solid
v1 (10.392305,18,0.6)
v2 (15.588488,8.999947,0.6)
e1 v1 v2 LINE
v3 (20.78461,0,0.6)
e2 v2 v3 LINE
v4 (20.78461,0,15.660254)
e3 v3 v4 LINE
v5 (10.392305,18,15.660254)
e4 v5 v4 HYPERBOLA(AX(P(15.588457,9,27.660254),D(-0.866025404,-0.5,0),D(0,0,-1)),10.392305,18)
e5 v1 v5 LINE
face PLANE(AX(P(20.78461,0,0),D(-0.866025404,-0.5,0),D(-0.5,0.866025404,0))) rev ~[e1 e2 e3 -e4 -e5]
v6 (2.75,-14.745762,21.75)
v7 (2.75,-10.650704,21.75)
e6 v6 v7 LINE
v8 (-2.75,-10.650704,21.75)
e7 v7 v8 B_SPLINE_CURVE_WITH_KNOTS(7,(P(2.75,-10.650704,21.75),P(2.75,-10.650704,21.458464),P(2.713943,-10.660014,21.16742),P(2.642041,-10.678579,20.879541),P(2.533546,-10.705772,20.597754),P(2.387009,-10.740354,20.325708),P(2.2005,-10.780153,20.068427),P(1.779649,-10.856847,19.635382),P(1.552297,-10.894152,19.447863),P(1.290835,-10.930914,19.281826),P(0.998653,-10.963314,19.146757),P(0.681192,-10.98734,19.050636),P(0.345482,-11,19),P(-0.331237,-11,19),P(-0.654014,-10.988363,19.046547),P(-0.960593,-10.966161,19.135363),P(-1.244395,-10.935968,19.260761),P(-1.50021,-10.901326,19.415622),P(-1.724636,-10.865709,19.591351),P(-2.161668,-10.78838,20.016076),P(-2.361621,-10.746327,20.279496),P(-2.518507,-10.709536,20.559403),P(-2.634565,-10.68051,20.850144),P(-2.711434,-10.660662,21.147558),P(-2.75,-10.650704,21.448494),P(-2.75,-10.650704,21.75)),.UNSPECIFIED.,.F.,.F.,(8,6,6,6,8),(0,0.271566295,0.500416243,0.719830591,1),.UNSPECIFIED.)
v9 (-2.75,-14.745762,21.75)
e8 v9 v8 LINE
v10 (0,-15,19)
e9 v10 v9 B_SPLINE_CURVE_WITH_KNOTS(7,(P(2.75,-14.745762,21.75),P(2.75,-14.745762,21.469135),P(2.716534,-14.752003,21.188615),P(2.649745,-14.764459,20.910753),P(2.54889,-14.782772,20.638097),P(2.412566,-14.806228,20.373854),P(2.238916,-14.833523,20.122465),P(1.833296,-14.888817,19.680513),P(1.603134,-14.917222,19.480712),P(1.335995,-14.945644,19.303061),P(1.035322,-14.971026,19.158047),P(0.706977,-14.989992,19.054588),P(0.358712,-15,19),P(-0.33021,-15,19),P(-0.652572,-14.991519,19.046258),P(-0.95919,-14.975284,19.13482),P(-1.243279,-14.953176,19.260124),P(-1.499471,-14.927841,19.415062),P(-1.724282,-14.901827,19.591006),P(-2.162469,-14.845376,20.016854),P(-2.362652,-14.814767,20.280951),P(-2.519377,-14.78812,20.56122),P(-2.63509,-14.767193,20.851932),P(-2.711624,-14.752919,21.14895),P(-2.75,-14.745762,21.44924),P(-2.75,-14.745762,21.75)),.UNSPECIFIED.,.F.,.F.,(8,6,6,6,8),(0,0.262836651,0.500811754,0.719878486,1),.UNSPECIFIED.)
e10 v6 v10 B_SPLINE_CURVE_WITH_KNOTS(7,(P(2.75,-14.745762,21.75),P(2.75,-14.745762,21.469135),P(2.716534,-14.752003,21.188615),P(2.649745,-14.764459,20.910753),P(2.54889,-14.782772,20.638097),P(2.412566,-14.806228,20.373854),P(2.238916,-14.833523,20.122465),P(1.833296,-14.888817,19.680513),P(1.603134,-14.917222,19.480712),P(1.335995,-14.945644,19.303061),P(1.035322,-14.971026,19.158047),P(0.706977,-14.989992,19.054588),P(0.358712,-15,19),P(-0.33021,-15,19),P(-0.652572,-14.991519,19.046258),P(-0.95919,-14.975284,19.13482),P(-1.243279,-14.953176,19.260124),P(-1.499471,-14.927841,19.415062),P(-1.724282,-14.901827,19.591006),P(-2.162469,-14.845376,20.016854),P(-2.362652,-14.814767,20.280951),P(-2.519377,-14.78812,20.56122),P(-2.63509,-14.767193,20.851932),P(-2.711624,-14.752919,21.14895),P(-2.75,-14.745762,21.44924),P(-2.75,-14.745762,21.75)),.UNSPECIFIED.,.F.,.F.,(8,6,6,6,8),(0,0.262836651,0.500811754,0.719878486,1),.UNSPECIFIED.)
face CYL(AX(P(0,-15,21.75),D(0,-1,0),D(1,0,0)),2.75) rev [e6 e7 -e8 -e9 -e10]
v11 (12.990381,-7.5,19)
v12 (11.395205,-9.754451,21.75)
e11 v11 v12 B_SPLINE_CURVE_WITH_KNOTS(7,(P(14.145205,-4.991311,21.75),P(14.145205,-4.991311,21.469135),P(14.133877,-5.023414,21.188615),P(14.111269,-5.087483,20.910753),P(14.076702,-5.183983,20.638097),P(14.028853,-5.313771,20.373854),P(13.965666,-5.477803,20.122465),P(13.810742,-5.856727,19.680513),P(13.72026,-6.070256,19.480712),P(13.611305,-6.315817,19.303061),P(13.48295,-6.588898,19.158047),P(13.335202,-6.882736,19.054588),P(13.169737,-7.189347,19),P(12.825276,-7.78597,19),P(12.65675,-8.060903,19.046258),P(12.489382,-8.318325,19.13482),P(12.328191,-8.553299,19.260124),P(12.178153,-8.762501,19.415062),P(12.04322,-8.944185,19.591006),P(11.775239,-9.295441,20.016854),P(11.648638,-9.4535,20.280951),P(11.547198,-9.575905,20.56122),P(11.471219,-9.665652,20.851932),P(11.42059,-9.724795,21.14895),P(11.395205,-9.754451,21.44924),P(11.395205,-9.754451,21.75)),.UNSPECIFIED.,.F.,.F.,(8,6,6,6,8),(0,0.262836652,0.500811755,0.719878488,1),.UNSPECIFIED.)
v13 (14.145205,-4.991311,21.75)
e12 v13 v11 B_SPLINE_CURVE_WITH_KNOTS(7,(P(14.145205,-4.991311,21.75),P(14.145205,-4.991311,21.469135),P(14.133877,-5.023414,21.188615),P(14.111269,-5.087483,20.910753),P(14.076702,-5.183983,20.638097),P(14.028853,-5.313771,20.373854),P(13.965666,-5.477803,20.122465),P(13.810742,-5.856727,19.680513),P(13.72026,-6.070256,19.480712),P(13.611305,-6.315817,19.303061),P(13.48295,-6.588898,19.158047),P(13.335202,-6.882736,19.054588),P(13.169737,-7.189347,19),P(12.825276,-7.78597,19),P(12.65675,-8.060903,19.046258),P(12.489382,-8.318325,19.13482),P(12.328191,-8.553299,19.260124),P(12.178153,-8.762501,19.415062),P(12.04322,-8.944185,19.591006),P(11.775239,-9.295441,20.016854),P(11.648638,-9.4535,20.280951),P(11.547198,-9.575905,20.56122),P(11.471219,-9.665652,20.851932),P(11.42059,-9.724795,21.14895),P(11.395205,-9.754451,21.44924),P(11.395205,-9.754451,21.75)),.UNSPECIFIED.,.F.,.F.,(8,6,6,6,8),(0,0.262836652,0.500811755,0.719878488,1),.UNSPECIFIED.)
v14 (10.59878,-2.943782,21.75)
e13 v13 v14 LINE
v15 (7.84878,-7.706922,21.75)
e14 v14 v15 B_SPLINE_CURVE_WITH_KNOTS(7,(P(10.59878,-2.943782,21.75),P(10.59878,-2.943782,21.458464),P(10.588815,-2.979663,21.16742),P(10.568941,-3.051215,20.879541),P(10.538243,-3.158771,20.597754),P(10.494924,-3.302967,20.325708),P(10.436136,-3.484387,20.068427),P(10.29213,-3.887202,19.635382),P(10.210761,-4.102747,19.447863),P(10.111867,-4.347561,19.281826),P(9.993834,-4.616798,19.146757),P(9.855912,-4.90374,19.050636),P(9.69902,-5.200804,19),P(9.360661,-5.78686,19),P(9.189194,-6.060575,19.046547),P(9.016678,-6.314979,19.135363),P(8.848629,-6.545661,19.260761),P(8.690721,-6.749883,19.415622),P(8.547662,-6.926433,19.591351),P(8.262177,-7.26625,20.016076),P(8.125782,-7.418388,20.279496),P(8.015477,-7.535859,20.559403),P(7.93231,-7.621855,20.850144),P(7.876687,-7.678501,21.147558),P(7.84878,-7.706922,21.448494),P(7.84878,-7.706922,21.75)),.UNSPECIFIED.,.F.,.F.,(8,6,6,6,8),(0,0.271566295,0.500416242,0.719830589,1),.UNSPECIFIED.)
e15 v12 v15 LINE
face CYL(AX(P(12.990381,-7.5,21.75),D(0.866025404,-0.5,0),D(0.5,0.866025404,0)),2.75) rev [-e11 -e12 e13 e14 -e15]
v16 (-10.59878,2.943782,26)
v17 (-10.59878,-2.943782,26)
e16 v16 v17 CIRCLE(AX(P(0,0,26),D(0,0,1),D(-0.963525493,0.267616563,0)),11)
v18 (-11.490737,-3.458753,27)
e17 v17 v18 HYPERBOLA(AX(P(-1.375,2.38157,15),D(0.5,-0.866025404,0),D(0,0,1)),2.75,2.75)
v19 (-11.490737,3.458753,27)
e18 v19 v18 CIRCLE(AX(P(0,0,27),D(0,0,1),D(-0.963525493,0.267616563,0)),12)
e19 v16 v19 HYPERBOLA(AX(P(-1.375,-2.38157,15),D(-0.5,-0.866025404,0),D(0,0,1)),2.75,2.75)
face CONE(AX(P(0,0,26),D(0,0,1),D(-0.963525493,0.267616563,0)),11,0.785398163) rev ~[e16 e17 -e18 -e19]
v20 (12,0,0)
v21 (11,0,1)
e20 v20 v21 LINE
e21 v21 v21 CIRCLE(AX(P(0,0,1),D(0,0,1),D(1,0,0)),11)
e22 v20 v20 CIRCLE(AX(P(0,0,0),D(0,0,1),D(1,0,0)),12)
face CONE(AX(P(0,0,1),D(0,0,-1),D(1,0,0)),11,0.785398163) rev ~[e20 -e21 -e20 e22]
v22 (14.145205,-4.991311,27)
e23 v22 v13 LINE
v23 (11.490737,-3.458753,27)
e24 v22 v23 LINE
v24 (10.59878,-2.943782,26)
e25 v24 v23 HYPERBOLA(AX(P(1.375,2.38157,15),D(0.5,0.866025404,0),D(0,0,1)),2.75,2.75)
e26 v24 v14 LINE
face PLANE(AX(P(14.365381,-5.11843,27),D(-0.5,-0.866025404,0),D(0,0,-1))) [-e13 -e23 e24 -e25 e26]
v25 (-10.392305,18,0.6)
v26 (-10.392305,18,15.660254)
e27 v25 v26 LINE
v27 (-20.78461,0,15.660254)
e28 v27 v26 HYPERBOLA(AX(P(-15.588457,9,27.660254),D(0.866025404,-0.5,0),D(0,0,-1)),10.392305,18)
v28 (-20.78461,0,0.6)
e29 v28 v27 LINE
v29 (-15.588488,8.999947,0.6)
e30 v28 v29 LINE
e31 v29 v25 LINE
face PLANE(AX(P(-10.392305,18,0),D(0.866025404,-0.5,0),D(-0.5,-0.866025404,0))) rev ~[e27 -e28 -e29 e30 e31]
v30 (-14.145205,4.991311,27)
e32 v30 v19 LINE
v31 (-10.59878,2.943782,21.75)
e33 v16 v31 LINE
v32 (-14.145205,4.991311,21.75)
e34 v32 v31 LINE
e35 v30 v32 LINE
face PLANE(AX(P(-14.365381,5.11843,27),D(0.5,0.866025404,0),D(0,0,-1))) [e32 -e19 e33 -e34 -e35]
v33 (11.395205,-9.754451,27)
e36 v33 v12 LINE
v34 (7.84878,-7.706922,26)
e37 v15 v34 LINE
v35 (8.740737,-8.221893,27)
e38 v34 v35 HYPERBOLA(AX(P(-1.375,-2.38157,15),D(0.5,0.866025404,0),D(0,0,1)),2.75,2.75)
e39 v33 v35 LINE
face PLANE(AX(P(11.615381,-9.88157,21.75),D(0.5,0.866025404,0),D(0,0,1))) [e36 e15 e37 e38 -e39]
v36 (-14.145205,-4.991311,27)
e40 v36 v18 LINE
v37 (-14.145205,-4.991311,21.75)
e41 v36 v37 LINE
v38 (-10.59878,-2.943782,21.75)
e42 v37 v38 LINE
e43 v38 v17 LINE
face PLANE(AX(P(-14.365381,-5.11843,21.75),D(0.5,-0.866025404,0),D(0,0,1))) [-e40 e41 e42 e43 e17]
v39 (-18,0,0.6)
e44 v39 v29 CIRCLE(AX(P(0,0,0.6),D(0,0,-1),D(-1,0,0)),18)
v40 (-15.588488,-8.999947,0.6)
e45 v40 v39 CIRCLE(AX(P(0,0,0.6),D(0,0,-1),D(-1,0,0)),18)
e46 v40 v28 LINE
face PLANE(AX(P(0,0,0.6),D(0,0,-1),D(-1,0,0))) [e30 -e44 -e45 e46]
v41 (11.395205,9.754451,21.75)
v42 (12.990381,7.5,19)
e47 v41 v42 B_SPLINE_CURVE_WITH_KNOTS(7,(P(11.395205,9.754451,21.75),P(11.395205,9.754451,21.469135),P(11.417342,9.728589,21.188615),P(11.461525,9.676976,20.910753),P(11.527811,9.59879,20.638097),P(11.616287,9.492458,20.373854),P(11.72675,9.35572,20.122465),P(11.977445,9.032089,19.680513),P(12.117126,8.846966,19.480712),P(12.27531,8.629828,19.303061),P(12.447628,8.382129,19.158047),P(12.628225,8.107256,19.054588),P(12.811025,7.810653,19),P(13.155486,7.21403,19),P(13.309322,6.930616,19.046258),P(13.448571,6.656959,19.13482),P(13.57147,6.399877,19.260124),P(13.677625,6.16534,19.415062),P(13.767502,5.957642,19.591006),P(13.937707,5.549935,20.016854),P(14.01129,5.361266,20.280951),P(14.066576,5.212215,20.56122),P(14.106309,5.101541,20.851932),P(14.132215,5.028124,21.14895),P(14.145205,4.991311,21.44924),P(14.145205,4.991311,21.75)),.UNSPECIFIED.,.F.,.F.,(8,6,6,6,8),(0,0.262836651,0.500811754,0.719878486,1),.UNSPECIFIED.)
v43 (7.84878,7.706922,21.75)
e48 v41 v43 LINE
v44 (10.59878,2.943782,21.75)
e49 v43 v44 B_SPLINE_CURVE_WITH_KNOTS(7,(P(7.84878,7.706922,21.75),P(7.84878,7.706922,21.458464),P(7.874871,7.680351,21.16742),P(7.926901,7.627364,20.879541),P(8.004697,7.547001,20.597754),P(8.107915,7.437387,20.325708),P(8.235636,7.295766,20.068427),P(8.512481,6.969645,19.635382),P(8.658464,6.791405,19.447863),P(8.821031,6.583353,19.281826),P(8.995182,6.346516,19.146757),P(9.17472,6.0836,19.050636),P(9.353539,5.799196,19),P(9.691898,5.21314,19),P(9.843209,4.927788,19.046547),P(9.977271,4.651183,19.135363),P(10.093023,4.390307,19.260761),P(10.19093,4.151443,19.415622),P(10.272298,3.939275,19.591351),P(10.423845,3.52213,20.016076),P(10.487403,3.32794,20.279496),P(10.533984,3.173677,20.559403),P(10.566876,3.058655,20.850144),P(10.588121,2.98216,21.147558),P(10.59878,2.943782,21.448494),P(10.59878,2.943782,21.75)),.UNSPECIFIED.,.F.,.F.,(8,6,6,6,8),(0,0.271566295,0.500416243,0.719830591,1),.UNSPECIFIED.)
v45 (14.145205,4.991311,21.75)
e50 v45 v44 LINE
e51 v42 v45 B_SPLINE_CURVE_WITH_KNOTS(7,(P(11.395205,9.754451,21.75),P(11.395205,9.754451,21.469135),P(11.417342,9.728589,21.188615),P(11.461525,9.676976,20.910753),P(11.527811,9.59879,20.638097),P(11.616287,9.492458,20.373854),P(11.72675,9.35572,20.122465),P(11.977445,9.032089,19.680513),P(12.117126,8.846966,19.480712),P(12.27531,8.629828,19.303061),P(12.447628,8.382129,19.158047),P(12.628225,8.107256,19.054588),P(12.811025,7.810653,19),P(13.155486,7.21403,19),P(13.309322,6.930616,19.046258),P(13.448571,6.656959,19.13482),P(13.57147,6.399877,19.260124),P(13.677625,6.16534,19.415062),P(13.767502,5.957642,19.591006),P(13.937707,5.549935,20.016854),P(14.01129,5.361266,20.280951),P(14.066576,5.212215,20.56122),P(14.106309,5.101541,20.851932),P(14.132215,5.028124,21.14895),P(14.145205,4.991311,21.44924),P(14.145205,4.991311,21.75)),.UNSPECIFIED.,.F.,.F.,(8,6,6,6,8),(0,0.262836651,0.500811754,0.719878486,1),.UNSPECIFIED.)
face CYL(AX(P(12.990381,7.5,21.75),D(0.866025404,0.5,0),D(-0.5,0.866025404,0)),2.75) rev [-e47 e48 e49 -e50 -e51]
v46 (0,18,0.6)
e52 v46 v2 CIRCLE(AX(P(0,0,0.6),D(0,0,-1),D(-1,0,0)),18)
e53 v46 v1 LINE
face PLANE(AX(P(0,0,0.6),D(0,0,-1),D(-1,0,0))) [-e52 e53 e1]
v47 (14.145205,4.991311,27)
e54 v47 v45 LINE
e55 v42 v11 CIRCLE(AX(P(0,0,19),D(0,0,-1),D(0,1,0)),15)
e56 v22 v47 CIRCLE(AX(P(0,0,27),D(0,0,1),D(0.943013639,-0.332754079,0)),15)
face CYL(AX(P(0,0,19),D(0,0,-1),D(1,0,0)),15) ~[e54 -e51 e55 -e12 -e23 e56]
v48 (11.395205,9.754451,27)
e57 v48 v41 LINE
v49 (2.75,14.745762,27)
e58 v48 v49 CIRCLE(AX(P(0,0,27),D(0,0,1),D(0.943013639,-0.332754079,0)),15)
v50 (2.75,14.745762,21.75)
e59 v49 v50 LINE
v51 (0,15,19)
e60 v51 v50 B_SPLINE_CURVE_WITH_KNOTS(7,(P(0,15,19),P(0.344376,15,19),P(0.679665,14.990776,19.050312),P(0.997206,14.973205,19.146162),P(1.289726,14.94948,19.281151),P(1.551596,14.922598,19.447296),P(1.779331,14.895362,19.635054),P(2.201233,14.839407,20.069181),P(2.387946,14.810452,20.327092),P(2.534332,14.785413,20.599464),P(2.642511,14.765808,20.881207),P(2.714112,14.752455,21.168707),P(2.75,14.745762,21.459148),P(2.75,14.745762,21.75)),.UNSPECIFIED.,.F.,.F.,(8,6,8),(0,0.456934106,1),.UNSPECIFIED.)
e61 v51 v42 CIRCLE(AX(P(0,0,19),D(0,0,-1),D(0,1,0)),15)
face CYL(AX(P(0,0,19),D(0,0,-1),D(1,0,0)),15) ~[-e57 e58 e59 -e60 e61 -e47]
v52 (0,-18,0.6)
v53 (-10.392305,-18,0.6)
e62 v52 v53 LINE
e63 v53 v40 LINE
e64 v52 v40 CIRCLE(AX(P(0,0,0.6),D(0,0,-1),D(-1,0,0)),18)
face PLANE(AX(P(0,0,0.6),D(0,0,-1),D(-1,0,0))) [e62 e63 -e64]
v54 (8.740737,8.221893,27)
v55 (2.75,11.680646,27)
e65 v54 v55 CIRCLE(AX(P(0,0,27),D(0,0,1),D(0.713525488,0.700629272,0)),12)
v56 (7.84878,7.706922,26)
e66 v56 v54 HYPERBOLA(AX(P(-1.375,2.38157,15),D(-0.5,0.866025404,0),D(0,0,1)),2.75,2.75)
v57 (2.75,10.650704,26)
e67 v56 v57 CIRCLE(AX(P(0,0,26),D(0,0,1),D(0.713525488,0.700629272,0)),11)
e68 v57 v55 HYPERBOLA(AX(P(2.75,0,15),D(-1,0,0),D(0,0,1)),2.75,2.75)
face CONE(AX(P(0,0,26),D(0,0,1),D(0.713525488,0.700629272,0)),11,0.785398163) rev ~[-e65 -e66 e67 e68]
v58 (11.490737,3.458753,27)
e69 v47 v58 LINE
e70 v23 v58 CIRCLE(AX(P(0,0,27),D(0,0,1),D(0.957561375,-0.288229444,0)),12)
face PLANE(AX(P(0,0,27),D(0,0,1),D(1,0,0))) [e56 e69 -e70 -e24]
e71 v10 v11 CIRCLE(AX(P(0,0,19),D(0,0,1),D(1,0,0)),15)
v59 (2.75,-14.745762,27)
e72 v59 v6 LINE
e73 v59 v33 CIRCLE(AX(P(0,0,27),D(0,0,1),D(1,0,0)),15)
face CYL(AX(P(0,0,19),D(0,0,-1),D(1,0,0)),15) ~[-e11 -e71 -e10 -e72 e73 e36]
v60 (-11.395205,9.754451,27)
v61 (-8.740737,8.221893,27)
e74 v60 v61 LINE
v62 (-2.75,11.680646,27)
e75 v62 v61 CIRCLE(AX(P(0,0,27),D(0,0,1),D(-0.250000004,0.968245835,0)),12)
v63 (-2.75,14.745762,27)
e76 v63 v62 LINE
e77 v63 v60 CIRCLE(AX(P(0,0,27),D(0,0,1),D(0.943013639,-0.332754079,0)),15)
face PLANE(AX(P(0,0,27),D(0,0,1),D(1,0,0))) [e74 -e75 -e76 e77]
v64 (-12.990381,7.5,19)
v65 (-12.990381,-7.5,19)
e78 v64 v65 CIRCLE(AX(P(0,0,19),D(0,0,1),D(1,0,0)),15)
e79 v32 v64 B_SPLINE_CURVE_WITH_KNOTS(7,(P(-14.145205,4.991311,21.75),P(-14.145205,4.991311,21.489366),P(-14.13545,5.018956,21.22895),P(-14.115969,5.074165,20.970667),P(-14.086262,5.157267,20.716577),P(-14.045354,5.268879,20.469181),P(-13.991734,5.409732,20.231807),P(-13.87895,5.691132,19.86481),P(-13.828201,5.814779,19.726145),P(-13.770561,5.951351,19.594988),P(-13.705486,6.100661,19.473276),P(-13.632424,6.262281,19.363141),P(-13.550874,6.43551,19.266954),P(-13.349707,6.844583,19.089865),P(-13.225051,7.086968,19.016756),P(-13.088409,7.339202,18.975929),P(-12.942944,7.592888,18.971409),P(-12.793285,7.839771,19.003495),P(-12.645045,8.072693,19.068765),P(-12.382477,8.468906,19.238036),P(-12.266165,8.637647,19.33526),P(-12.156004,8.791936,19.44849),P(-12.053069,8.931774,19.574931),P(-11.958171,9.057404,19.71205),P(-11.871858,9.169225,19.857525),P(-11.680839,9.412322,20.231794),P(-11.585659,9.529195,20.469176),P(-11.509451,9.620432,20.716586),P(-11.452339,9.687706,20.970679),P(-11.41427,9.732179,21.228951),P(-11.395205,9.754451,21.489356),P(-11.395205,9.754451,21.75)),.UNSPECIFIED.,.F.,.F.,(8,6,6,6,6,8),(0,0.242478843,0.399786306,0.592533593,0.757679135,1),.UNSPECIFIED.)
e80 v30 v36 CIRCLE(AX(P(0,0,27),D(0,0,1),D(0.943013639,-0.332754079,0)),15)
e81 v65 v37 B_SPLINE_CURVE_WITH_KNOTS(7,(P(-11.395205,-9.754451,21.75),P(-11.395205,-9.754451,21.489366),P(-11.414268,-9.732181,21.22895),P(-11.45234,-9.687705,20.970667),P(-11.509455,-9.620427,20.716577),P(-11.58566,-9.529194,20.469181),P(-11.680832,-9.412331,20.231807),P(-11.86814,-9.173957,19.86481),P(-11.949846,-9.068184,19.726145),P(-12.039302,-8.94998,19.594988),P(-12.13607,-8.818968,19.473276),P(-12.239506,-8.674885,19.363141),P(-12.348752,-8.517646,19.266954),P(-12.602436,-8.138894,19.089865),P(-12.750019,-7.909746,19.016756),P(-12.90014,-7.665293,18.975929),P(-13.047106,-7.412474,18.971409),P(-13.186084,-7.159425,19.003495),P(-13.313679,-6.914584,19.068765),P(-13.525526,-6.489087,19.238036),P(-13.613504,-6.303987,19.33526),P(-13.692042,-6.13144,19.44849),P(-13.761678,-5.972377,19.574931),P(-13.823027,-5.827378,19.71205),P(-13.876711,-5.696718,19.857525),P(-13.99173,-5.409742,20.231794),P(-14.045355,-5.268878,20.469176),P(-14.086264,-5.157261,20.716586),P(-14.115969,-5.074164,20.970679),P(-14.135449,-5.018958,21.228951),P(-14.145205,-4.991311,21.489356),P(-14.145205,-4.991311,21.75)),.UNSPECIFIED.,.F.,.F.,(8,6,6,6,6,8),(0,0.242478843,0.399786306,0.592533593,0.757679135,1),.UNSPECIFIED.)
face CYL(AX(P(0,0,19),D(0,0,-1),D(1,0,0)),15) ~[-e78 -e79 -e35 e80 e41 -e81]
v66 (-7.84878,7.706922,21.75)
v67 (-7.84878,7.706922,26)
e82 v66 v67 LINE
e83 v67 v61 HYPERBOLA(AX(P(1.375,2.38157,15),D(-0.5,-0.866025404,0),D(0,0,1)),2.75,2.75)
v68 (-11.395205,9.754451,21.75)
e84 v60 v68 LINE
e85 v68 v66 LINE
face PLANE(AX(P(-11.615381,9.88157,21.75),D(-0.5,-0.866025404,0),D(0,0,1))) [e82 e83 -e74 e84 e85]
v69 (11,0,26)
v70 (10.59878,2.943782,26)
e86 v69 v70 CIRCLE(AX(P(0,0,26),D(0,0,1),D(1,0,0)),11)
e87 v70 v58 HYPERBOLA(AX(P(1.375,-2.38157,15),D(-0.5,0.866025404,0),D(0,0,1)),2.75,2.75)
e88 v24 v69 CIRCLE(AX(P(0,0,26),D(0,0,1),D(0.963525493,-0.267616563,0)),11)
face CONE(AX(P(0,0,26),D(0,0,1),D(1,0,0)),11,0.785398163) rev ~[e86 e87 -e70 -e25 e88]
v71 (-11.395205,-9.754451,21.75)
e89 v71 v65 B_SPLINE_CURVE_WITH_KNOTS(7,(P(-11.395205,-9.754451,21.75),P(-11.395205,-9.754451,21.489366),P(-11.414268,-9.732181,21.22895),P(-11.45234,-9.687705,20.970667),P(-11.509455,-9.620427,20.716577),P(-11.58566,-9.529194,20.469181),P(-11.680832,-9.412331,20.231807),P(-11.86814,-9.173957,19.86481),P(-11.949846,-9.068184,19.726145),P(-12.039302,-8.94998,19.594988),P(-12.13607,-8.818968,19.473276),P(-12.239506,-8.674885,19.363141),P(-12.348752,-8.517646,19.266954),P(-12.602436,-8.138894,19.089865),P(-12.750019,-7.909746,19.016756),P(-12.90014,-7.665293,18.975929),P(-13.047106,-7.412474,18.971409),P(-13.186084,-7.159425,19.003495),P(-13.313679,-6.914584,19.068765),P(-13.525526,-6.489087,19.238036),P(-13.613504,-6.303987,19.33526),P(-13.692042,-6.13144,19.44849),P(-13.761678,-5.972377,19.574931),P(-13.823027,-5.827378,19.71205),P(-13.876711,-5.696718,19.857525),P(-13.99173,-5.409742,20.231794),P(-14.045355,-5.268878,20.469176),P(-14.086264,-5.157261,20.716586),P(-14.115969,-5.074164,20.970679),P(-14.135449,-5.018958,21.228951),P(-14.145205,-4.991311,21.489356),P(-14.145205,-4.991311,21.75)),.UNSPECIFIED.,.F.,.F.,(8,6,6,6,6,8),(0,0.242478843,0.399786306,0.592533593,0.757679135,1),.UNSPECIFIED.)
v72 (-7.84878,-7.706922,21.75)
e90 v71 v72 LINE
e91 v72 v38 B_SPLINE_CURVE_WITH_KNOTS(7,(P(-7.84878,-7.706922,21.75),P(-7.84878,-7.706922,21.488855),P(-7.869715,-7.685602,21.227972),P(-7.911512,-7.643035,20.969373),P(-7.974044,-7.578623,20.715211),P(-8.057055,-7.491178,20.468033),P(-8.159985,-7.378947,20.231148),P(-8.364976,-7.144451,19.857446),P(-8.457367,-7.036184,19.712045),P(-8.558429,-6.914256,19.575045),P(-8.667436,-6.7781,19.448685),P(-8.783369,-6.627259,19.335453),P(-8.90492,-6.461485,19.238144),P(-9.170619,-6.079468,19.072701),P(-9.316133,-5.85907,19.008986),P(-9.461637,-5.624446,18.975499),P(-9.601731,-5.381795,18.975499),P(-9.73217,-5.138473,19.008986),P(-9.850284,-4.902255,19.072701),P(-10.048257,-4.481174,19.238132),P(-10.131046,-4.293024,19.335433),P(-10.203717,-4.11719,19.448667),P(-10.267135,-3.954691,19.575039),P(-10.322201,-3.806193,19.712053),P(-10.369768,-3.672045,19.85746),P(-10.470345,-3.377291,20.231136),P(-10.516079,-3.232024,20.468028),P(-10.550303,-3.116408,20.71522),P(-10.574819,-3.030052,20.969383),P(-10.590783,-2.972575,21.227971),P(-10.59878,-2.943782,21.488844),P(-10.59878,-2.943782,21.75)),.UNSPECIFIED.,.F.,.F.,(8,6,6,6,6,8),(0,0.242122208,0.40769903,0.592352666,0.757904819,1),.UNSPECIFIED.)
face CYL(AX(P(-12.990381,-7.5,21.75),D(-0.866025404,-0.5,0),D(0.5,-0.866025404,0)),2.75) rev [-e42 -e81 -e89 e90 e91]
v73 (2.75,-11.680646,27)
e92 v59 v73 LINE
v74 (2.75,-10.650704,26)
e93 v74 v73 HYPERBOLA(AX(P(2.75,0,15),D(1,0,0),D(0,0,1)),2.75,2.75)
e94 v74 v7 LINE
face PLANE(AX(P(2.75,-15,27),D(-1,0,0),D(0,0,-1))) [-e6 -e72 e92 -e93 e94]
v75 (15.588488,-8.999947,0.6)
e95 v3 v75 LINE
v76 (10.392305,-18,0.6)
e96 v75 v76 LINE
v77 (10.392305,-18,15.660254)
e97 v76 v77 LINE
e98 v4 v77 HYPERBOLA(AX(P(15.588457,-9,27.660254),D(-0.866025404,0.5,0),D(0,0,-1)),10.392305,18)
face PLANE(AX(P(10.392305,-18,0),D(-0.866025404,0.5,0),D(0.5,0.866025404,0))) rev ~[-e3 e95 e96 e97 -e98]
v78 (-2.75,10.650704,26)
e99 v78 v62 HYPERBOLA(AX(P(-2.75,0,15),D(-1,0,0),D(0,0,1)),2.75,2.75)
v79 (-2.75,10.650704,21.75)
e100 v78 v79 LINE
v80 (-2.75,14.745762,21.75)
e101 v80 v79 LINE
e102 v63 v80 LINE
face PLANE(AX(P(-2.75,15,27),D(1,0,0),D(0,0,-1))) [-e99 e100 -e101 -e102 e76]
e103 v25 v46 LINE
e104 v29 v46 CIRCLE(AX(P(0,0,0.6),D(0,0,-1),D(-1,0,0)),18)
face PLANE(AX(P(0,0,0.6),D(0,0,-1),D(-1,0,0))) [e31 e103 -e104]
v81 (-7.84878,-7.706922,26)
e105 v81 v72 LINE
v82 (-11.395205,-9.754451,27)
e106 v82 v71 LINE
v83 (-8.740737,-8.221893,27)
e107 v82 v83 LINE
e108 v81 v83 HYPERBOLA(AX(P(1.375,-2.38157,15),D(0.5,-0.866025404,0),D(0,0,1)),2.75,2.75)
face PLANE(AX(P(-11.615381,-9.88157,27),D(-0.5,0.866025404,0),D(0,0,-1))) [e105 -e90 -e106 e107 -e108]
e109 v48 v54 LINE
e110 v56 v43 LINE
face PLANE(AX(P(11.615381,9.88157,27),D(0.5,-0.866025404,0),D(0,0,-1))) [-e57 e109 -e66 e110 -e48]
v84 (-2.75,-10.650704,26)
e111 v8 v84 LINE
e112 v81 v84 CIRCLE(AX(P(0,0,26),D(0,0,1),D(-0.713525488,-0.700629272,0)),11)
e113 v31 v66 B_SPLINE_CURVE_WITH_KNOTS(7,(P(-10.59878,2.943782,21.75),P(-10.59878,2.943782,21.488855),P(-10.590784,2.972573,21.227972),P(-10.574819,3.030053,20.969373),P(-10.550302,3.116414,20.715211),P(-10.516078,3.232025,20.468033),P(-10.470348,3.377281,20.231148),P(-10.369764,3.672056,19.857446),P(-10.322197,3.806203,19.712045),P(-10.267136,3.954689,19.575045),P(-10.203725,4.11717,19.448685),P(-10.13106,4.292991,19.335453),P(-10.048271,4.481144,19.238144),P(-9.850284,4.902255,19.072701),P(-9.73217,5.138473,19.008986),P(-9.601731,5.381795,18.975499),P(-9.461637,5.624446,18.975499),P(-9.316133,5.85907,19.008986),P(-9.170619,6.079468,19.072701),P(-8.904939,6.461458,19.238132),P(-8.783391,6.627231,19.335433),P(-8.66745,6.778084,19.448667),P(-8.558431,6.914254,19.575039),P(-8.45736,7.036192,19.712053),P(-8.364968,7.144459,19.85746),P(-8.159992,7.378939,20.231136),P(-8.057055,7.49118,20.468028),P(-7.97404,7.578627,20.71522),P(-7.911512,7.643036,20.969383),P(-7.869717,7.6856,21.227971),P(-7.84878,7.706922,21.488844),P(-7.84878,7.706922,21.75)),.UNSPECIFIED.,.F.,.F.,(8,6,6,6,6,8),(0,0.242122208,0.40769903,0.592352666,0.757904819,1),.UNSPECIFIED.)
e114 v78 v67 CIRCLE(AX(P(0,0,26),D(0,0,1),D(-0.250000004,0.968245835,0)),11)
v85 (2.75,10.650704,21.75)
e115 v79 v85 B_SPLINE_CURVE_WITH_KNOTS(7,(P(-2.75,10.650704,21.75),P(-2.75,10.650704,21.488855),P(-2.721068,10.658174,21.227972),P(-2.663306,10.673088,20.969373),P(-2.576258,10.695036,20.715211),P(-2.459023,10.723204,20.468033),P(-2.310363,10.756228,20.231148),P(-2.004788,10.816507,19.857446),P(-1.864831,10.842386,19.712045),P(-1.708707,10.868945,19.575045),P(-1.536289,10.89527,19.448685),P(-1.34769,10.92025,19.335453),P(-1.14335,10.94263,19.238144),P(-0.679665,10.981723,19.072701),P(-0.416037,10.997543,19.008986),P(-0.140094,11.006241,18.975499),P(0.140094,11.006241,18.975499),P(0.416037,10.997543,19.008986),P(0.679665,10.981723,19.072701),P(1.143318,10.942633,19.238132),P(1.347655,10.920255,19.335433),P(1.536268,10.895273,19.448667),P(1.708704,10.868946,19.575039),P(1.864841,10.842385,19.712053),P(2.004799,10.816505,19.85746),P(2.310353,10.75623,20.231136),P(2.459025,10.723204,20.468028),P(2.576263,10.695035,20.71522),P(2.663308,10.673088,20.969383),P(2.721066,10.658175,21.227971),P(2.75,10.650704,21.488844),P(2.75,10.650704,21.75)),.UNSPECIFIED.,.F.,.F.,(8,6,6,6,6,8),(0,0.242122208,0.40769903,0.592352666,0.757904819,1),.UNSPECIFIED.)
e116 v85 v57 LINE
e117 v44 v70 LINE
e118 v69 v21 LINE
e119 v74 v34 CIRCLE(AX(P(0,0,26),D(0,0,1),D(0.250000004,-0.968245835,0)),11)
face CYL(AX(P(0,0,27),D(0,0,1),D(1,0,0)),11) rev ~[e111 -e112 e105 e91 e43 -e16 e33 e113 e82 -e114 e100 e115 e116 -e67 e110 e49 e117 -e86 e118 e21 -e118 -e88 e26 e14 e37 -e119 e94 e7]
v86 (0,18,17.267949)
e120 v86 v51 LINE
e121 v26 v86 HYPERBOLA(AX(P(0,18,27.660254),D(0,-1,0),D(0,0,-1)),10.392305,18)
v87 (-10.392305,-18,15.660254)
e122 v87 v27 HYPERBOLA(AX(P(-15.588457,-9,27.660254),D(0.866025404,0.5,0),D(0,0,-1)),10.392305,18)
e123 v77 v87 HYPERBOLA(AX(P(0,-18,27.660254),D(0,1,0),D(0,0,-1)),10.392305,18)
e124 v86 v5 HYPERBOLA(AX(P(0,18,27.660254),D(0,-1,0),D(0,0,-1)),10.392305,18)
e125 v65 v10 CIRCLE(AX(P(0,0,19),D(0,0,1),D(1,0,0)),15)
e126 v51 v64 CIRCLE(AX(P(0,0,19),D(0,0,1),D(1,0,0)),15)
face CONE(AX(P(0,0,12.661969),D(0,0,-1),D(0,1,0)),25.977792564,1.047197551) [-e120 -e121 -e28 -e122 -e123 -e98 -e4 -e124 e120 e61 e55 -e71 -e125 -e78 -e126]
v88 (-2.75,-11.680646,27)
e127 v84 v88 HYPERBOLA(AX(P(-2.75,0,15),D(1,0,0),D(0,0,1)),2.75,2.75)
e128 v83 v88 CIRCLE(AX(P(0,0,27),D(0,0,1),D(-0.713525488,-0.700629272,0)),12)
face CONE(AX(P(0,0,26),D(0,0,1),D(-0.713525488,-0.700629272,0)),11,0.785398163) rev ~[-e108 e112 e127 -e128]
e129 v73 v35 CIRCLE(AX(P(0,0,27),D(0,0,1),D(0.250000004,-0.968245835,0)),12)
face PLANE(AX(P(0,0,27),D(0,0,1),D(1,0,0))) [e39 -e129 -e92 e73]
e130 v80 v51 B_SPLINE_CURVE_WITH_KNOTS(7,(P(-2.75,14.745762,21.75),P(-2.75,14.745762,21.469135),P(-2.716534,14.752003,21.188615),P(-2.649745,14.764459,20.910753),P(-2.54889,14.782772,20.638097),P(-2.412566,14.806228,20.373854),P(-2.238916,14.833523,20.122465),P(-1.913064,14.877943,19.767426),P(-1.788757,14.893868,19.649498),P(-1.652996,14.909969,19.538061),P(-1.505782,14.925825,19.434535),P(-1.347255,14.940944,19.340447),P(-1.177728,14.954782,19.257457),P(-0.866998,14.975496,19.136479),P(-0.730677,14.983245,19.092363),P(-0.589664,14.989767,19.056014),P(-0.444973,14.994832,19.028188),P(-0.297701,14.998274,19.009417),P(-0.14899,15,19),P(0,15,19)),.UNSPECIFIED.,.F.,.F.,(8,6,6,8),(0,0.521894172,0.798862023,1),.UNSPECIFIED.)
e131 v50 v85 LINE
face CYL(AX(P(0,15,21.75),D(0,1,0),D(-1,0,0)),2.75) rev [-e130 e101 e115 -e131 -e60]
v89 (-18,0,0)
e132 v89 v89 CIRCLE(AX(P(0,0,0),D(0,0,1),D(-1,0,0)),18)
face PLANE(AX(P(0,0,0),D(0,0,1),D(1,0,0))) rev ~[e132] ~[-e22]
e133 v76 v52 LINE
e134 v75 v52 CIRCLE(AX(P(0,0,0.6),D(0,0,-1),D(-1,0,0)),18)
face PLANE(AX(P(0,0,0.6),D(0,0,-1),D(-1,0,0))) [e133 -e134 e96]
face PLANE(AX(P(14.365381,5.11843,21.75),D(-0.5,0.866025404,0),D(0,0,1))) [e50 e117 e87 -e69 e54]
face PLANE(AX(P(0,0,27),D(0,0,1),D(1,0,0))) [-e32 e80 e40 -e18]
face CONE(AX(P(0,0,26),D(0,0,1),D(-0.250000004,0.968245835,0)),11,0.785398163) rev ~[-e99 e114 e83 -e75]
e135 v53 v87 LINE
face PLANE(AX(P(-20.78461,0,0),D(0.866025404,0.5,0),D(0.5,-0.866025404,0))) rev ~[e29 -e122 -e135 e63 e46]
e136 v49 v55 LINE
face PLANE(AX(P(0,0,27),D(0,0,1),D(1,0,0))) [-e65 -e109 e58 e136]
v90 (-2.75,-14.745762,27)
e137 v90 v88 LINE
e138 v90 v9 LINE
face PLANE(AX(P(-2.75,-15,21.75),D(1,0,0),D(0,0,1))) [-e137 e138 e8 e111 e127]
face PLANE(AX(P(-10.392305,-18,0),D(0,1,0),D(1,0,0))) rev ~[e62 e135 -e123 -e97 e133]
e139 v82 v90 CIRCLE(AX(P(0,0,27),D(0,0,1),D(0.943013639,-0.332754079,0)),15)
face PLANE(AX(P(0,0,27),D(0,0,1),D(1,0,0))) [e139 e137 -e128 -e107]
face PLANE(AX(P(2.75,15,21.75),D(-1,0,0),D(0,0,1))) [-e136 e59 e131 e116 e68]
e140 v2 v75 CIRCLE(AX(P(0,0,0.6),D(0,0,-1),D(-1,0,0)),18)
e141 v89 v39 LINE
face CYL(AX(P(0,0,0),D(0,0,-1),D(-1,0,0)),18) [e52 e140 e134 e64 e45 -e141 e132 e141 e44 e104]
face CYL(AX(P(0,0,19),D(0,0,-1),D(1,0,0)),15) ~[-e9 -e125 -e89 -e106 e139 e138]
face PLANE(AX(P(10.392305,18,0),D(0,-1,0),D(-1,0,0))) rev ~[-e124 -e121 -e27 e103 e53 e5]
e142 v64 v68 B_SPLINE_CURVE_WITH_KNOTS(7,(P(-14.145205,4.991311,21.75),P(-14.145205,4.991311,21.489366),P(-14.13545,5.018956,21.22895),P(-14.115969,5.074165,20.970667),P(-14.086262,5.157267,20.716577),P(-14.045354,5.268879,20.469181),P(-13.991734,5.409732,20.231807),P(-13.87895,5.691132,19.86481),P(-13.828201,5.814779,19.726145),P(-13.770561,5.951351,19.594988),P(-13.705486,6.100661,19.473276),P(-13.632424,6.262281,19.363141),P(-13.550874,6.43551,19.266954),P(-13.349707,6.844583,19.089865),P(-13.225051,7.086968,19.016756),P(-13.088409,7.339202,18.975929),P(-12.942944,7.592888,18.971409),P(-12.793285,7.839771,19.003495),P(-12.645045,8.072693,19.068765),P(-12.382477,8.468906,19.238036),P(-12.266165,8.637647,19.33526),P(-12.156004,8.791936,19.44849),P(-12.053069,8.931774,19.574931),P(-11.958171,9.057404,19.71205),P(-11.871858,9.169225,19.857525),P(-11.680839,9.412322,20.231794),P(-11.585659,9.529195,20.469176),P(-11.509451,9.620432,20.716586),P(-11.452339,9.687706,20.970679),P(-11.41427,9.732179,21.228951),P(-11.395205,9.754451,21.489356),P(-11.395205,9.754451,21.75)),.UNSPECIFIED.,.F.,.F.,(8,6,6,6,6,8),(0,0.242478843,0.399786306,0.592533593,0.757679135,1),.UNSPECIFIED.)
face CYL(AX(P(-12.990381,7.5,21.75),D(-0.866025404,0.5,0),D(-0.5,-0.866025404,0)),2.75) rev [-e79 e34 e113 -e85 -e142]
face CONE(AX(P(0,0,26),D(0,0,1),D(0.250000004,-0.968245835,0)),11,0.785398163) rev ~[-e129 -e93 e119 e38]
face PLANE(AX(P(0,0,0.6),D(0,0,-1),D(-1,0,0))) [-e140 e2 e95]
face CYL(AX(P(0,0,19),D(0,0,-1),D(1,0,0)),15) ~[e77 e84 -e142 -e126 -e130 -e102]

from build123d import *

# Parameters (mm, degrees)
BOSS_EXTRUDE1_DEPTH     = 19
SKETCH2_R               = 15
BOSS_EXTRUDE2_DEPTH     = 8
SKETCH4_R               = 28
SKETCH4_R_2             = 18
CUT_EXTRUDE_THIN1_DEPTH = 0.6
CUT_EXTRUDE1_REACH      = 40.536
SKETCH5_R               = 11
CUT_EXTRUDE2_REACH      = 40.536
CIRPATTERN1_COUNT       = 6
CHAMFER1_SIZE           = 1


with BuildPart() as part:
    # Sketch1 → Boss-Extrude1 (new body)
    with BuildSketch(Plane.XY):
        Polygon((20.784609691, 0), (10.392304845, 18), (-10.392304845, 18), (-20.784609691, 0), (-10.392304845, -18), (10.392304845, -18), align=None)
    extrude(amount=BOSS_EXTRUDE1_DEPTH)

    # Sketch2 → Boss-Extrude2 (add)
    with BuildSketch(Plane.XY.offset(19)):
        Circle(SKETCH2_R)
    extrude(amount=BOSS_EXTRUDE2_DEPTH)

    # Sketch3 → Cut-Revolve1 (revolve, cut)
    with BuildSketch(Plane(origin=(0, 0, 0), x_dir=(0, 0, -1), z_dir=(1, 0, 0))):
        Polygon((-19, 15), (-19, 25.977792564), (-12.661968508, 25.977792564), align=None)
    revolve(axis=Axis((0, 0, -102.328960849), (0, 0, 1)), mode=Mode.SUBTRACT)

    # Sketch4 → Cut-Extrude-Thin1 (cut)
    with BuildSketch(Plane(origin=(0, 0, 0), x_dir=(-1, 0, 0), z_dir=(0, 0, -1))):
        Circle(SKETCH4_R)
        Circle(SKETCH4_R_2, mode=Mode.SUBTRACT)
    extrude(amount=-CUT_EXTRUDE_THIN1_DEPTH, mode=Mode.SUBTRACT)

    # Sketch5 → Cut-Extrude1 (cut, up to next)
    with BuildSketch(Plane.XY.offset(27), mode=Mode.PRIVATE) as cut_extrude1_sk1:
        Circle(SKETCH5_R)
    cut_extrude1_tool1 = extrude(cut_extrude1_sk1.sketch, amount=-CUT_EXTRUDE1_REACH, mode=Mode.PRIVATE) & part.part
    add(cut_extrude1_tool1.solids().sort_by_distance((0, 0, 27))[0], mode=Mode.SUBTRACT)

    # Sketch6 → Cut-Extrude2 (cut, up to next)
    with BuildSketch(Plane(origin=(0, 0, 0), x_dir=(1, 0, 0), z_dir=(0, 1, 0)), mode=Mode.PRIVATE) as cut_extrude2_sk1:
        with BuildLine():
            Line((-2.75, -21.75), (-2.75, -27))
            Line((-2.75, -27), (2.75, -27))
            Line((2.75, -27), (2.75, -21.75))
            ThreePointArc((2.75, -21.75), (0, -19), (-2.75, -21.75))
        make_face()
    cut_extrude2_tool1 = extrude(cut_extrude2_sk1.sketch, amount=-CUT_EXTRUDE2_REACH, mode=Mode.PRIVATE) & part.part
    cut_extrude2 = cut_extrude2_tool1.solids().sort_by_distance((0, 0, 23.269656))[0]
    add(cut_extrude2, mode=Mode.SUBTRACT)

    # CirPattern1: Cut-Extrude2 ×6 about axis
    cirpattern1_axis = Axis((0, 0, -0.001), (0, 0, 1))
    for i in range(1, CIRPATTERN1_COUNT):
        add(cut_extrude2.rotate(cirpattern1_axis, i * 360 / CIRPATTERN1_COUNT), mode=Mode.SUBTRACT)

    # Chamfer1
    chamfer1_edges = [part.edges().sort_by_distance(p)[0] for p in [
        (-5.5, -9.526279442, 27),
        (-11, 0, 27),
        (-5.5, 9.526279442, 27),
        (5.5, 9.526279442, 27),
        (10.899233562, -1.485499162, 27),
        (5.5, -9.526279442, 27),
        (-11, 0, 0),
    ]]
    chamfer(chamfer1_edges, length=CHAMFER1_SIZE)


solid = part.part
